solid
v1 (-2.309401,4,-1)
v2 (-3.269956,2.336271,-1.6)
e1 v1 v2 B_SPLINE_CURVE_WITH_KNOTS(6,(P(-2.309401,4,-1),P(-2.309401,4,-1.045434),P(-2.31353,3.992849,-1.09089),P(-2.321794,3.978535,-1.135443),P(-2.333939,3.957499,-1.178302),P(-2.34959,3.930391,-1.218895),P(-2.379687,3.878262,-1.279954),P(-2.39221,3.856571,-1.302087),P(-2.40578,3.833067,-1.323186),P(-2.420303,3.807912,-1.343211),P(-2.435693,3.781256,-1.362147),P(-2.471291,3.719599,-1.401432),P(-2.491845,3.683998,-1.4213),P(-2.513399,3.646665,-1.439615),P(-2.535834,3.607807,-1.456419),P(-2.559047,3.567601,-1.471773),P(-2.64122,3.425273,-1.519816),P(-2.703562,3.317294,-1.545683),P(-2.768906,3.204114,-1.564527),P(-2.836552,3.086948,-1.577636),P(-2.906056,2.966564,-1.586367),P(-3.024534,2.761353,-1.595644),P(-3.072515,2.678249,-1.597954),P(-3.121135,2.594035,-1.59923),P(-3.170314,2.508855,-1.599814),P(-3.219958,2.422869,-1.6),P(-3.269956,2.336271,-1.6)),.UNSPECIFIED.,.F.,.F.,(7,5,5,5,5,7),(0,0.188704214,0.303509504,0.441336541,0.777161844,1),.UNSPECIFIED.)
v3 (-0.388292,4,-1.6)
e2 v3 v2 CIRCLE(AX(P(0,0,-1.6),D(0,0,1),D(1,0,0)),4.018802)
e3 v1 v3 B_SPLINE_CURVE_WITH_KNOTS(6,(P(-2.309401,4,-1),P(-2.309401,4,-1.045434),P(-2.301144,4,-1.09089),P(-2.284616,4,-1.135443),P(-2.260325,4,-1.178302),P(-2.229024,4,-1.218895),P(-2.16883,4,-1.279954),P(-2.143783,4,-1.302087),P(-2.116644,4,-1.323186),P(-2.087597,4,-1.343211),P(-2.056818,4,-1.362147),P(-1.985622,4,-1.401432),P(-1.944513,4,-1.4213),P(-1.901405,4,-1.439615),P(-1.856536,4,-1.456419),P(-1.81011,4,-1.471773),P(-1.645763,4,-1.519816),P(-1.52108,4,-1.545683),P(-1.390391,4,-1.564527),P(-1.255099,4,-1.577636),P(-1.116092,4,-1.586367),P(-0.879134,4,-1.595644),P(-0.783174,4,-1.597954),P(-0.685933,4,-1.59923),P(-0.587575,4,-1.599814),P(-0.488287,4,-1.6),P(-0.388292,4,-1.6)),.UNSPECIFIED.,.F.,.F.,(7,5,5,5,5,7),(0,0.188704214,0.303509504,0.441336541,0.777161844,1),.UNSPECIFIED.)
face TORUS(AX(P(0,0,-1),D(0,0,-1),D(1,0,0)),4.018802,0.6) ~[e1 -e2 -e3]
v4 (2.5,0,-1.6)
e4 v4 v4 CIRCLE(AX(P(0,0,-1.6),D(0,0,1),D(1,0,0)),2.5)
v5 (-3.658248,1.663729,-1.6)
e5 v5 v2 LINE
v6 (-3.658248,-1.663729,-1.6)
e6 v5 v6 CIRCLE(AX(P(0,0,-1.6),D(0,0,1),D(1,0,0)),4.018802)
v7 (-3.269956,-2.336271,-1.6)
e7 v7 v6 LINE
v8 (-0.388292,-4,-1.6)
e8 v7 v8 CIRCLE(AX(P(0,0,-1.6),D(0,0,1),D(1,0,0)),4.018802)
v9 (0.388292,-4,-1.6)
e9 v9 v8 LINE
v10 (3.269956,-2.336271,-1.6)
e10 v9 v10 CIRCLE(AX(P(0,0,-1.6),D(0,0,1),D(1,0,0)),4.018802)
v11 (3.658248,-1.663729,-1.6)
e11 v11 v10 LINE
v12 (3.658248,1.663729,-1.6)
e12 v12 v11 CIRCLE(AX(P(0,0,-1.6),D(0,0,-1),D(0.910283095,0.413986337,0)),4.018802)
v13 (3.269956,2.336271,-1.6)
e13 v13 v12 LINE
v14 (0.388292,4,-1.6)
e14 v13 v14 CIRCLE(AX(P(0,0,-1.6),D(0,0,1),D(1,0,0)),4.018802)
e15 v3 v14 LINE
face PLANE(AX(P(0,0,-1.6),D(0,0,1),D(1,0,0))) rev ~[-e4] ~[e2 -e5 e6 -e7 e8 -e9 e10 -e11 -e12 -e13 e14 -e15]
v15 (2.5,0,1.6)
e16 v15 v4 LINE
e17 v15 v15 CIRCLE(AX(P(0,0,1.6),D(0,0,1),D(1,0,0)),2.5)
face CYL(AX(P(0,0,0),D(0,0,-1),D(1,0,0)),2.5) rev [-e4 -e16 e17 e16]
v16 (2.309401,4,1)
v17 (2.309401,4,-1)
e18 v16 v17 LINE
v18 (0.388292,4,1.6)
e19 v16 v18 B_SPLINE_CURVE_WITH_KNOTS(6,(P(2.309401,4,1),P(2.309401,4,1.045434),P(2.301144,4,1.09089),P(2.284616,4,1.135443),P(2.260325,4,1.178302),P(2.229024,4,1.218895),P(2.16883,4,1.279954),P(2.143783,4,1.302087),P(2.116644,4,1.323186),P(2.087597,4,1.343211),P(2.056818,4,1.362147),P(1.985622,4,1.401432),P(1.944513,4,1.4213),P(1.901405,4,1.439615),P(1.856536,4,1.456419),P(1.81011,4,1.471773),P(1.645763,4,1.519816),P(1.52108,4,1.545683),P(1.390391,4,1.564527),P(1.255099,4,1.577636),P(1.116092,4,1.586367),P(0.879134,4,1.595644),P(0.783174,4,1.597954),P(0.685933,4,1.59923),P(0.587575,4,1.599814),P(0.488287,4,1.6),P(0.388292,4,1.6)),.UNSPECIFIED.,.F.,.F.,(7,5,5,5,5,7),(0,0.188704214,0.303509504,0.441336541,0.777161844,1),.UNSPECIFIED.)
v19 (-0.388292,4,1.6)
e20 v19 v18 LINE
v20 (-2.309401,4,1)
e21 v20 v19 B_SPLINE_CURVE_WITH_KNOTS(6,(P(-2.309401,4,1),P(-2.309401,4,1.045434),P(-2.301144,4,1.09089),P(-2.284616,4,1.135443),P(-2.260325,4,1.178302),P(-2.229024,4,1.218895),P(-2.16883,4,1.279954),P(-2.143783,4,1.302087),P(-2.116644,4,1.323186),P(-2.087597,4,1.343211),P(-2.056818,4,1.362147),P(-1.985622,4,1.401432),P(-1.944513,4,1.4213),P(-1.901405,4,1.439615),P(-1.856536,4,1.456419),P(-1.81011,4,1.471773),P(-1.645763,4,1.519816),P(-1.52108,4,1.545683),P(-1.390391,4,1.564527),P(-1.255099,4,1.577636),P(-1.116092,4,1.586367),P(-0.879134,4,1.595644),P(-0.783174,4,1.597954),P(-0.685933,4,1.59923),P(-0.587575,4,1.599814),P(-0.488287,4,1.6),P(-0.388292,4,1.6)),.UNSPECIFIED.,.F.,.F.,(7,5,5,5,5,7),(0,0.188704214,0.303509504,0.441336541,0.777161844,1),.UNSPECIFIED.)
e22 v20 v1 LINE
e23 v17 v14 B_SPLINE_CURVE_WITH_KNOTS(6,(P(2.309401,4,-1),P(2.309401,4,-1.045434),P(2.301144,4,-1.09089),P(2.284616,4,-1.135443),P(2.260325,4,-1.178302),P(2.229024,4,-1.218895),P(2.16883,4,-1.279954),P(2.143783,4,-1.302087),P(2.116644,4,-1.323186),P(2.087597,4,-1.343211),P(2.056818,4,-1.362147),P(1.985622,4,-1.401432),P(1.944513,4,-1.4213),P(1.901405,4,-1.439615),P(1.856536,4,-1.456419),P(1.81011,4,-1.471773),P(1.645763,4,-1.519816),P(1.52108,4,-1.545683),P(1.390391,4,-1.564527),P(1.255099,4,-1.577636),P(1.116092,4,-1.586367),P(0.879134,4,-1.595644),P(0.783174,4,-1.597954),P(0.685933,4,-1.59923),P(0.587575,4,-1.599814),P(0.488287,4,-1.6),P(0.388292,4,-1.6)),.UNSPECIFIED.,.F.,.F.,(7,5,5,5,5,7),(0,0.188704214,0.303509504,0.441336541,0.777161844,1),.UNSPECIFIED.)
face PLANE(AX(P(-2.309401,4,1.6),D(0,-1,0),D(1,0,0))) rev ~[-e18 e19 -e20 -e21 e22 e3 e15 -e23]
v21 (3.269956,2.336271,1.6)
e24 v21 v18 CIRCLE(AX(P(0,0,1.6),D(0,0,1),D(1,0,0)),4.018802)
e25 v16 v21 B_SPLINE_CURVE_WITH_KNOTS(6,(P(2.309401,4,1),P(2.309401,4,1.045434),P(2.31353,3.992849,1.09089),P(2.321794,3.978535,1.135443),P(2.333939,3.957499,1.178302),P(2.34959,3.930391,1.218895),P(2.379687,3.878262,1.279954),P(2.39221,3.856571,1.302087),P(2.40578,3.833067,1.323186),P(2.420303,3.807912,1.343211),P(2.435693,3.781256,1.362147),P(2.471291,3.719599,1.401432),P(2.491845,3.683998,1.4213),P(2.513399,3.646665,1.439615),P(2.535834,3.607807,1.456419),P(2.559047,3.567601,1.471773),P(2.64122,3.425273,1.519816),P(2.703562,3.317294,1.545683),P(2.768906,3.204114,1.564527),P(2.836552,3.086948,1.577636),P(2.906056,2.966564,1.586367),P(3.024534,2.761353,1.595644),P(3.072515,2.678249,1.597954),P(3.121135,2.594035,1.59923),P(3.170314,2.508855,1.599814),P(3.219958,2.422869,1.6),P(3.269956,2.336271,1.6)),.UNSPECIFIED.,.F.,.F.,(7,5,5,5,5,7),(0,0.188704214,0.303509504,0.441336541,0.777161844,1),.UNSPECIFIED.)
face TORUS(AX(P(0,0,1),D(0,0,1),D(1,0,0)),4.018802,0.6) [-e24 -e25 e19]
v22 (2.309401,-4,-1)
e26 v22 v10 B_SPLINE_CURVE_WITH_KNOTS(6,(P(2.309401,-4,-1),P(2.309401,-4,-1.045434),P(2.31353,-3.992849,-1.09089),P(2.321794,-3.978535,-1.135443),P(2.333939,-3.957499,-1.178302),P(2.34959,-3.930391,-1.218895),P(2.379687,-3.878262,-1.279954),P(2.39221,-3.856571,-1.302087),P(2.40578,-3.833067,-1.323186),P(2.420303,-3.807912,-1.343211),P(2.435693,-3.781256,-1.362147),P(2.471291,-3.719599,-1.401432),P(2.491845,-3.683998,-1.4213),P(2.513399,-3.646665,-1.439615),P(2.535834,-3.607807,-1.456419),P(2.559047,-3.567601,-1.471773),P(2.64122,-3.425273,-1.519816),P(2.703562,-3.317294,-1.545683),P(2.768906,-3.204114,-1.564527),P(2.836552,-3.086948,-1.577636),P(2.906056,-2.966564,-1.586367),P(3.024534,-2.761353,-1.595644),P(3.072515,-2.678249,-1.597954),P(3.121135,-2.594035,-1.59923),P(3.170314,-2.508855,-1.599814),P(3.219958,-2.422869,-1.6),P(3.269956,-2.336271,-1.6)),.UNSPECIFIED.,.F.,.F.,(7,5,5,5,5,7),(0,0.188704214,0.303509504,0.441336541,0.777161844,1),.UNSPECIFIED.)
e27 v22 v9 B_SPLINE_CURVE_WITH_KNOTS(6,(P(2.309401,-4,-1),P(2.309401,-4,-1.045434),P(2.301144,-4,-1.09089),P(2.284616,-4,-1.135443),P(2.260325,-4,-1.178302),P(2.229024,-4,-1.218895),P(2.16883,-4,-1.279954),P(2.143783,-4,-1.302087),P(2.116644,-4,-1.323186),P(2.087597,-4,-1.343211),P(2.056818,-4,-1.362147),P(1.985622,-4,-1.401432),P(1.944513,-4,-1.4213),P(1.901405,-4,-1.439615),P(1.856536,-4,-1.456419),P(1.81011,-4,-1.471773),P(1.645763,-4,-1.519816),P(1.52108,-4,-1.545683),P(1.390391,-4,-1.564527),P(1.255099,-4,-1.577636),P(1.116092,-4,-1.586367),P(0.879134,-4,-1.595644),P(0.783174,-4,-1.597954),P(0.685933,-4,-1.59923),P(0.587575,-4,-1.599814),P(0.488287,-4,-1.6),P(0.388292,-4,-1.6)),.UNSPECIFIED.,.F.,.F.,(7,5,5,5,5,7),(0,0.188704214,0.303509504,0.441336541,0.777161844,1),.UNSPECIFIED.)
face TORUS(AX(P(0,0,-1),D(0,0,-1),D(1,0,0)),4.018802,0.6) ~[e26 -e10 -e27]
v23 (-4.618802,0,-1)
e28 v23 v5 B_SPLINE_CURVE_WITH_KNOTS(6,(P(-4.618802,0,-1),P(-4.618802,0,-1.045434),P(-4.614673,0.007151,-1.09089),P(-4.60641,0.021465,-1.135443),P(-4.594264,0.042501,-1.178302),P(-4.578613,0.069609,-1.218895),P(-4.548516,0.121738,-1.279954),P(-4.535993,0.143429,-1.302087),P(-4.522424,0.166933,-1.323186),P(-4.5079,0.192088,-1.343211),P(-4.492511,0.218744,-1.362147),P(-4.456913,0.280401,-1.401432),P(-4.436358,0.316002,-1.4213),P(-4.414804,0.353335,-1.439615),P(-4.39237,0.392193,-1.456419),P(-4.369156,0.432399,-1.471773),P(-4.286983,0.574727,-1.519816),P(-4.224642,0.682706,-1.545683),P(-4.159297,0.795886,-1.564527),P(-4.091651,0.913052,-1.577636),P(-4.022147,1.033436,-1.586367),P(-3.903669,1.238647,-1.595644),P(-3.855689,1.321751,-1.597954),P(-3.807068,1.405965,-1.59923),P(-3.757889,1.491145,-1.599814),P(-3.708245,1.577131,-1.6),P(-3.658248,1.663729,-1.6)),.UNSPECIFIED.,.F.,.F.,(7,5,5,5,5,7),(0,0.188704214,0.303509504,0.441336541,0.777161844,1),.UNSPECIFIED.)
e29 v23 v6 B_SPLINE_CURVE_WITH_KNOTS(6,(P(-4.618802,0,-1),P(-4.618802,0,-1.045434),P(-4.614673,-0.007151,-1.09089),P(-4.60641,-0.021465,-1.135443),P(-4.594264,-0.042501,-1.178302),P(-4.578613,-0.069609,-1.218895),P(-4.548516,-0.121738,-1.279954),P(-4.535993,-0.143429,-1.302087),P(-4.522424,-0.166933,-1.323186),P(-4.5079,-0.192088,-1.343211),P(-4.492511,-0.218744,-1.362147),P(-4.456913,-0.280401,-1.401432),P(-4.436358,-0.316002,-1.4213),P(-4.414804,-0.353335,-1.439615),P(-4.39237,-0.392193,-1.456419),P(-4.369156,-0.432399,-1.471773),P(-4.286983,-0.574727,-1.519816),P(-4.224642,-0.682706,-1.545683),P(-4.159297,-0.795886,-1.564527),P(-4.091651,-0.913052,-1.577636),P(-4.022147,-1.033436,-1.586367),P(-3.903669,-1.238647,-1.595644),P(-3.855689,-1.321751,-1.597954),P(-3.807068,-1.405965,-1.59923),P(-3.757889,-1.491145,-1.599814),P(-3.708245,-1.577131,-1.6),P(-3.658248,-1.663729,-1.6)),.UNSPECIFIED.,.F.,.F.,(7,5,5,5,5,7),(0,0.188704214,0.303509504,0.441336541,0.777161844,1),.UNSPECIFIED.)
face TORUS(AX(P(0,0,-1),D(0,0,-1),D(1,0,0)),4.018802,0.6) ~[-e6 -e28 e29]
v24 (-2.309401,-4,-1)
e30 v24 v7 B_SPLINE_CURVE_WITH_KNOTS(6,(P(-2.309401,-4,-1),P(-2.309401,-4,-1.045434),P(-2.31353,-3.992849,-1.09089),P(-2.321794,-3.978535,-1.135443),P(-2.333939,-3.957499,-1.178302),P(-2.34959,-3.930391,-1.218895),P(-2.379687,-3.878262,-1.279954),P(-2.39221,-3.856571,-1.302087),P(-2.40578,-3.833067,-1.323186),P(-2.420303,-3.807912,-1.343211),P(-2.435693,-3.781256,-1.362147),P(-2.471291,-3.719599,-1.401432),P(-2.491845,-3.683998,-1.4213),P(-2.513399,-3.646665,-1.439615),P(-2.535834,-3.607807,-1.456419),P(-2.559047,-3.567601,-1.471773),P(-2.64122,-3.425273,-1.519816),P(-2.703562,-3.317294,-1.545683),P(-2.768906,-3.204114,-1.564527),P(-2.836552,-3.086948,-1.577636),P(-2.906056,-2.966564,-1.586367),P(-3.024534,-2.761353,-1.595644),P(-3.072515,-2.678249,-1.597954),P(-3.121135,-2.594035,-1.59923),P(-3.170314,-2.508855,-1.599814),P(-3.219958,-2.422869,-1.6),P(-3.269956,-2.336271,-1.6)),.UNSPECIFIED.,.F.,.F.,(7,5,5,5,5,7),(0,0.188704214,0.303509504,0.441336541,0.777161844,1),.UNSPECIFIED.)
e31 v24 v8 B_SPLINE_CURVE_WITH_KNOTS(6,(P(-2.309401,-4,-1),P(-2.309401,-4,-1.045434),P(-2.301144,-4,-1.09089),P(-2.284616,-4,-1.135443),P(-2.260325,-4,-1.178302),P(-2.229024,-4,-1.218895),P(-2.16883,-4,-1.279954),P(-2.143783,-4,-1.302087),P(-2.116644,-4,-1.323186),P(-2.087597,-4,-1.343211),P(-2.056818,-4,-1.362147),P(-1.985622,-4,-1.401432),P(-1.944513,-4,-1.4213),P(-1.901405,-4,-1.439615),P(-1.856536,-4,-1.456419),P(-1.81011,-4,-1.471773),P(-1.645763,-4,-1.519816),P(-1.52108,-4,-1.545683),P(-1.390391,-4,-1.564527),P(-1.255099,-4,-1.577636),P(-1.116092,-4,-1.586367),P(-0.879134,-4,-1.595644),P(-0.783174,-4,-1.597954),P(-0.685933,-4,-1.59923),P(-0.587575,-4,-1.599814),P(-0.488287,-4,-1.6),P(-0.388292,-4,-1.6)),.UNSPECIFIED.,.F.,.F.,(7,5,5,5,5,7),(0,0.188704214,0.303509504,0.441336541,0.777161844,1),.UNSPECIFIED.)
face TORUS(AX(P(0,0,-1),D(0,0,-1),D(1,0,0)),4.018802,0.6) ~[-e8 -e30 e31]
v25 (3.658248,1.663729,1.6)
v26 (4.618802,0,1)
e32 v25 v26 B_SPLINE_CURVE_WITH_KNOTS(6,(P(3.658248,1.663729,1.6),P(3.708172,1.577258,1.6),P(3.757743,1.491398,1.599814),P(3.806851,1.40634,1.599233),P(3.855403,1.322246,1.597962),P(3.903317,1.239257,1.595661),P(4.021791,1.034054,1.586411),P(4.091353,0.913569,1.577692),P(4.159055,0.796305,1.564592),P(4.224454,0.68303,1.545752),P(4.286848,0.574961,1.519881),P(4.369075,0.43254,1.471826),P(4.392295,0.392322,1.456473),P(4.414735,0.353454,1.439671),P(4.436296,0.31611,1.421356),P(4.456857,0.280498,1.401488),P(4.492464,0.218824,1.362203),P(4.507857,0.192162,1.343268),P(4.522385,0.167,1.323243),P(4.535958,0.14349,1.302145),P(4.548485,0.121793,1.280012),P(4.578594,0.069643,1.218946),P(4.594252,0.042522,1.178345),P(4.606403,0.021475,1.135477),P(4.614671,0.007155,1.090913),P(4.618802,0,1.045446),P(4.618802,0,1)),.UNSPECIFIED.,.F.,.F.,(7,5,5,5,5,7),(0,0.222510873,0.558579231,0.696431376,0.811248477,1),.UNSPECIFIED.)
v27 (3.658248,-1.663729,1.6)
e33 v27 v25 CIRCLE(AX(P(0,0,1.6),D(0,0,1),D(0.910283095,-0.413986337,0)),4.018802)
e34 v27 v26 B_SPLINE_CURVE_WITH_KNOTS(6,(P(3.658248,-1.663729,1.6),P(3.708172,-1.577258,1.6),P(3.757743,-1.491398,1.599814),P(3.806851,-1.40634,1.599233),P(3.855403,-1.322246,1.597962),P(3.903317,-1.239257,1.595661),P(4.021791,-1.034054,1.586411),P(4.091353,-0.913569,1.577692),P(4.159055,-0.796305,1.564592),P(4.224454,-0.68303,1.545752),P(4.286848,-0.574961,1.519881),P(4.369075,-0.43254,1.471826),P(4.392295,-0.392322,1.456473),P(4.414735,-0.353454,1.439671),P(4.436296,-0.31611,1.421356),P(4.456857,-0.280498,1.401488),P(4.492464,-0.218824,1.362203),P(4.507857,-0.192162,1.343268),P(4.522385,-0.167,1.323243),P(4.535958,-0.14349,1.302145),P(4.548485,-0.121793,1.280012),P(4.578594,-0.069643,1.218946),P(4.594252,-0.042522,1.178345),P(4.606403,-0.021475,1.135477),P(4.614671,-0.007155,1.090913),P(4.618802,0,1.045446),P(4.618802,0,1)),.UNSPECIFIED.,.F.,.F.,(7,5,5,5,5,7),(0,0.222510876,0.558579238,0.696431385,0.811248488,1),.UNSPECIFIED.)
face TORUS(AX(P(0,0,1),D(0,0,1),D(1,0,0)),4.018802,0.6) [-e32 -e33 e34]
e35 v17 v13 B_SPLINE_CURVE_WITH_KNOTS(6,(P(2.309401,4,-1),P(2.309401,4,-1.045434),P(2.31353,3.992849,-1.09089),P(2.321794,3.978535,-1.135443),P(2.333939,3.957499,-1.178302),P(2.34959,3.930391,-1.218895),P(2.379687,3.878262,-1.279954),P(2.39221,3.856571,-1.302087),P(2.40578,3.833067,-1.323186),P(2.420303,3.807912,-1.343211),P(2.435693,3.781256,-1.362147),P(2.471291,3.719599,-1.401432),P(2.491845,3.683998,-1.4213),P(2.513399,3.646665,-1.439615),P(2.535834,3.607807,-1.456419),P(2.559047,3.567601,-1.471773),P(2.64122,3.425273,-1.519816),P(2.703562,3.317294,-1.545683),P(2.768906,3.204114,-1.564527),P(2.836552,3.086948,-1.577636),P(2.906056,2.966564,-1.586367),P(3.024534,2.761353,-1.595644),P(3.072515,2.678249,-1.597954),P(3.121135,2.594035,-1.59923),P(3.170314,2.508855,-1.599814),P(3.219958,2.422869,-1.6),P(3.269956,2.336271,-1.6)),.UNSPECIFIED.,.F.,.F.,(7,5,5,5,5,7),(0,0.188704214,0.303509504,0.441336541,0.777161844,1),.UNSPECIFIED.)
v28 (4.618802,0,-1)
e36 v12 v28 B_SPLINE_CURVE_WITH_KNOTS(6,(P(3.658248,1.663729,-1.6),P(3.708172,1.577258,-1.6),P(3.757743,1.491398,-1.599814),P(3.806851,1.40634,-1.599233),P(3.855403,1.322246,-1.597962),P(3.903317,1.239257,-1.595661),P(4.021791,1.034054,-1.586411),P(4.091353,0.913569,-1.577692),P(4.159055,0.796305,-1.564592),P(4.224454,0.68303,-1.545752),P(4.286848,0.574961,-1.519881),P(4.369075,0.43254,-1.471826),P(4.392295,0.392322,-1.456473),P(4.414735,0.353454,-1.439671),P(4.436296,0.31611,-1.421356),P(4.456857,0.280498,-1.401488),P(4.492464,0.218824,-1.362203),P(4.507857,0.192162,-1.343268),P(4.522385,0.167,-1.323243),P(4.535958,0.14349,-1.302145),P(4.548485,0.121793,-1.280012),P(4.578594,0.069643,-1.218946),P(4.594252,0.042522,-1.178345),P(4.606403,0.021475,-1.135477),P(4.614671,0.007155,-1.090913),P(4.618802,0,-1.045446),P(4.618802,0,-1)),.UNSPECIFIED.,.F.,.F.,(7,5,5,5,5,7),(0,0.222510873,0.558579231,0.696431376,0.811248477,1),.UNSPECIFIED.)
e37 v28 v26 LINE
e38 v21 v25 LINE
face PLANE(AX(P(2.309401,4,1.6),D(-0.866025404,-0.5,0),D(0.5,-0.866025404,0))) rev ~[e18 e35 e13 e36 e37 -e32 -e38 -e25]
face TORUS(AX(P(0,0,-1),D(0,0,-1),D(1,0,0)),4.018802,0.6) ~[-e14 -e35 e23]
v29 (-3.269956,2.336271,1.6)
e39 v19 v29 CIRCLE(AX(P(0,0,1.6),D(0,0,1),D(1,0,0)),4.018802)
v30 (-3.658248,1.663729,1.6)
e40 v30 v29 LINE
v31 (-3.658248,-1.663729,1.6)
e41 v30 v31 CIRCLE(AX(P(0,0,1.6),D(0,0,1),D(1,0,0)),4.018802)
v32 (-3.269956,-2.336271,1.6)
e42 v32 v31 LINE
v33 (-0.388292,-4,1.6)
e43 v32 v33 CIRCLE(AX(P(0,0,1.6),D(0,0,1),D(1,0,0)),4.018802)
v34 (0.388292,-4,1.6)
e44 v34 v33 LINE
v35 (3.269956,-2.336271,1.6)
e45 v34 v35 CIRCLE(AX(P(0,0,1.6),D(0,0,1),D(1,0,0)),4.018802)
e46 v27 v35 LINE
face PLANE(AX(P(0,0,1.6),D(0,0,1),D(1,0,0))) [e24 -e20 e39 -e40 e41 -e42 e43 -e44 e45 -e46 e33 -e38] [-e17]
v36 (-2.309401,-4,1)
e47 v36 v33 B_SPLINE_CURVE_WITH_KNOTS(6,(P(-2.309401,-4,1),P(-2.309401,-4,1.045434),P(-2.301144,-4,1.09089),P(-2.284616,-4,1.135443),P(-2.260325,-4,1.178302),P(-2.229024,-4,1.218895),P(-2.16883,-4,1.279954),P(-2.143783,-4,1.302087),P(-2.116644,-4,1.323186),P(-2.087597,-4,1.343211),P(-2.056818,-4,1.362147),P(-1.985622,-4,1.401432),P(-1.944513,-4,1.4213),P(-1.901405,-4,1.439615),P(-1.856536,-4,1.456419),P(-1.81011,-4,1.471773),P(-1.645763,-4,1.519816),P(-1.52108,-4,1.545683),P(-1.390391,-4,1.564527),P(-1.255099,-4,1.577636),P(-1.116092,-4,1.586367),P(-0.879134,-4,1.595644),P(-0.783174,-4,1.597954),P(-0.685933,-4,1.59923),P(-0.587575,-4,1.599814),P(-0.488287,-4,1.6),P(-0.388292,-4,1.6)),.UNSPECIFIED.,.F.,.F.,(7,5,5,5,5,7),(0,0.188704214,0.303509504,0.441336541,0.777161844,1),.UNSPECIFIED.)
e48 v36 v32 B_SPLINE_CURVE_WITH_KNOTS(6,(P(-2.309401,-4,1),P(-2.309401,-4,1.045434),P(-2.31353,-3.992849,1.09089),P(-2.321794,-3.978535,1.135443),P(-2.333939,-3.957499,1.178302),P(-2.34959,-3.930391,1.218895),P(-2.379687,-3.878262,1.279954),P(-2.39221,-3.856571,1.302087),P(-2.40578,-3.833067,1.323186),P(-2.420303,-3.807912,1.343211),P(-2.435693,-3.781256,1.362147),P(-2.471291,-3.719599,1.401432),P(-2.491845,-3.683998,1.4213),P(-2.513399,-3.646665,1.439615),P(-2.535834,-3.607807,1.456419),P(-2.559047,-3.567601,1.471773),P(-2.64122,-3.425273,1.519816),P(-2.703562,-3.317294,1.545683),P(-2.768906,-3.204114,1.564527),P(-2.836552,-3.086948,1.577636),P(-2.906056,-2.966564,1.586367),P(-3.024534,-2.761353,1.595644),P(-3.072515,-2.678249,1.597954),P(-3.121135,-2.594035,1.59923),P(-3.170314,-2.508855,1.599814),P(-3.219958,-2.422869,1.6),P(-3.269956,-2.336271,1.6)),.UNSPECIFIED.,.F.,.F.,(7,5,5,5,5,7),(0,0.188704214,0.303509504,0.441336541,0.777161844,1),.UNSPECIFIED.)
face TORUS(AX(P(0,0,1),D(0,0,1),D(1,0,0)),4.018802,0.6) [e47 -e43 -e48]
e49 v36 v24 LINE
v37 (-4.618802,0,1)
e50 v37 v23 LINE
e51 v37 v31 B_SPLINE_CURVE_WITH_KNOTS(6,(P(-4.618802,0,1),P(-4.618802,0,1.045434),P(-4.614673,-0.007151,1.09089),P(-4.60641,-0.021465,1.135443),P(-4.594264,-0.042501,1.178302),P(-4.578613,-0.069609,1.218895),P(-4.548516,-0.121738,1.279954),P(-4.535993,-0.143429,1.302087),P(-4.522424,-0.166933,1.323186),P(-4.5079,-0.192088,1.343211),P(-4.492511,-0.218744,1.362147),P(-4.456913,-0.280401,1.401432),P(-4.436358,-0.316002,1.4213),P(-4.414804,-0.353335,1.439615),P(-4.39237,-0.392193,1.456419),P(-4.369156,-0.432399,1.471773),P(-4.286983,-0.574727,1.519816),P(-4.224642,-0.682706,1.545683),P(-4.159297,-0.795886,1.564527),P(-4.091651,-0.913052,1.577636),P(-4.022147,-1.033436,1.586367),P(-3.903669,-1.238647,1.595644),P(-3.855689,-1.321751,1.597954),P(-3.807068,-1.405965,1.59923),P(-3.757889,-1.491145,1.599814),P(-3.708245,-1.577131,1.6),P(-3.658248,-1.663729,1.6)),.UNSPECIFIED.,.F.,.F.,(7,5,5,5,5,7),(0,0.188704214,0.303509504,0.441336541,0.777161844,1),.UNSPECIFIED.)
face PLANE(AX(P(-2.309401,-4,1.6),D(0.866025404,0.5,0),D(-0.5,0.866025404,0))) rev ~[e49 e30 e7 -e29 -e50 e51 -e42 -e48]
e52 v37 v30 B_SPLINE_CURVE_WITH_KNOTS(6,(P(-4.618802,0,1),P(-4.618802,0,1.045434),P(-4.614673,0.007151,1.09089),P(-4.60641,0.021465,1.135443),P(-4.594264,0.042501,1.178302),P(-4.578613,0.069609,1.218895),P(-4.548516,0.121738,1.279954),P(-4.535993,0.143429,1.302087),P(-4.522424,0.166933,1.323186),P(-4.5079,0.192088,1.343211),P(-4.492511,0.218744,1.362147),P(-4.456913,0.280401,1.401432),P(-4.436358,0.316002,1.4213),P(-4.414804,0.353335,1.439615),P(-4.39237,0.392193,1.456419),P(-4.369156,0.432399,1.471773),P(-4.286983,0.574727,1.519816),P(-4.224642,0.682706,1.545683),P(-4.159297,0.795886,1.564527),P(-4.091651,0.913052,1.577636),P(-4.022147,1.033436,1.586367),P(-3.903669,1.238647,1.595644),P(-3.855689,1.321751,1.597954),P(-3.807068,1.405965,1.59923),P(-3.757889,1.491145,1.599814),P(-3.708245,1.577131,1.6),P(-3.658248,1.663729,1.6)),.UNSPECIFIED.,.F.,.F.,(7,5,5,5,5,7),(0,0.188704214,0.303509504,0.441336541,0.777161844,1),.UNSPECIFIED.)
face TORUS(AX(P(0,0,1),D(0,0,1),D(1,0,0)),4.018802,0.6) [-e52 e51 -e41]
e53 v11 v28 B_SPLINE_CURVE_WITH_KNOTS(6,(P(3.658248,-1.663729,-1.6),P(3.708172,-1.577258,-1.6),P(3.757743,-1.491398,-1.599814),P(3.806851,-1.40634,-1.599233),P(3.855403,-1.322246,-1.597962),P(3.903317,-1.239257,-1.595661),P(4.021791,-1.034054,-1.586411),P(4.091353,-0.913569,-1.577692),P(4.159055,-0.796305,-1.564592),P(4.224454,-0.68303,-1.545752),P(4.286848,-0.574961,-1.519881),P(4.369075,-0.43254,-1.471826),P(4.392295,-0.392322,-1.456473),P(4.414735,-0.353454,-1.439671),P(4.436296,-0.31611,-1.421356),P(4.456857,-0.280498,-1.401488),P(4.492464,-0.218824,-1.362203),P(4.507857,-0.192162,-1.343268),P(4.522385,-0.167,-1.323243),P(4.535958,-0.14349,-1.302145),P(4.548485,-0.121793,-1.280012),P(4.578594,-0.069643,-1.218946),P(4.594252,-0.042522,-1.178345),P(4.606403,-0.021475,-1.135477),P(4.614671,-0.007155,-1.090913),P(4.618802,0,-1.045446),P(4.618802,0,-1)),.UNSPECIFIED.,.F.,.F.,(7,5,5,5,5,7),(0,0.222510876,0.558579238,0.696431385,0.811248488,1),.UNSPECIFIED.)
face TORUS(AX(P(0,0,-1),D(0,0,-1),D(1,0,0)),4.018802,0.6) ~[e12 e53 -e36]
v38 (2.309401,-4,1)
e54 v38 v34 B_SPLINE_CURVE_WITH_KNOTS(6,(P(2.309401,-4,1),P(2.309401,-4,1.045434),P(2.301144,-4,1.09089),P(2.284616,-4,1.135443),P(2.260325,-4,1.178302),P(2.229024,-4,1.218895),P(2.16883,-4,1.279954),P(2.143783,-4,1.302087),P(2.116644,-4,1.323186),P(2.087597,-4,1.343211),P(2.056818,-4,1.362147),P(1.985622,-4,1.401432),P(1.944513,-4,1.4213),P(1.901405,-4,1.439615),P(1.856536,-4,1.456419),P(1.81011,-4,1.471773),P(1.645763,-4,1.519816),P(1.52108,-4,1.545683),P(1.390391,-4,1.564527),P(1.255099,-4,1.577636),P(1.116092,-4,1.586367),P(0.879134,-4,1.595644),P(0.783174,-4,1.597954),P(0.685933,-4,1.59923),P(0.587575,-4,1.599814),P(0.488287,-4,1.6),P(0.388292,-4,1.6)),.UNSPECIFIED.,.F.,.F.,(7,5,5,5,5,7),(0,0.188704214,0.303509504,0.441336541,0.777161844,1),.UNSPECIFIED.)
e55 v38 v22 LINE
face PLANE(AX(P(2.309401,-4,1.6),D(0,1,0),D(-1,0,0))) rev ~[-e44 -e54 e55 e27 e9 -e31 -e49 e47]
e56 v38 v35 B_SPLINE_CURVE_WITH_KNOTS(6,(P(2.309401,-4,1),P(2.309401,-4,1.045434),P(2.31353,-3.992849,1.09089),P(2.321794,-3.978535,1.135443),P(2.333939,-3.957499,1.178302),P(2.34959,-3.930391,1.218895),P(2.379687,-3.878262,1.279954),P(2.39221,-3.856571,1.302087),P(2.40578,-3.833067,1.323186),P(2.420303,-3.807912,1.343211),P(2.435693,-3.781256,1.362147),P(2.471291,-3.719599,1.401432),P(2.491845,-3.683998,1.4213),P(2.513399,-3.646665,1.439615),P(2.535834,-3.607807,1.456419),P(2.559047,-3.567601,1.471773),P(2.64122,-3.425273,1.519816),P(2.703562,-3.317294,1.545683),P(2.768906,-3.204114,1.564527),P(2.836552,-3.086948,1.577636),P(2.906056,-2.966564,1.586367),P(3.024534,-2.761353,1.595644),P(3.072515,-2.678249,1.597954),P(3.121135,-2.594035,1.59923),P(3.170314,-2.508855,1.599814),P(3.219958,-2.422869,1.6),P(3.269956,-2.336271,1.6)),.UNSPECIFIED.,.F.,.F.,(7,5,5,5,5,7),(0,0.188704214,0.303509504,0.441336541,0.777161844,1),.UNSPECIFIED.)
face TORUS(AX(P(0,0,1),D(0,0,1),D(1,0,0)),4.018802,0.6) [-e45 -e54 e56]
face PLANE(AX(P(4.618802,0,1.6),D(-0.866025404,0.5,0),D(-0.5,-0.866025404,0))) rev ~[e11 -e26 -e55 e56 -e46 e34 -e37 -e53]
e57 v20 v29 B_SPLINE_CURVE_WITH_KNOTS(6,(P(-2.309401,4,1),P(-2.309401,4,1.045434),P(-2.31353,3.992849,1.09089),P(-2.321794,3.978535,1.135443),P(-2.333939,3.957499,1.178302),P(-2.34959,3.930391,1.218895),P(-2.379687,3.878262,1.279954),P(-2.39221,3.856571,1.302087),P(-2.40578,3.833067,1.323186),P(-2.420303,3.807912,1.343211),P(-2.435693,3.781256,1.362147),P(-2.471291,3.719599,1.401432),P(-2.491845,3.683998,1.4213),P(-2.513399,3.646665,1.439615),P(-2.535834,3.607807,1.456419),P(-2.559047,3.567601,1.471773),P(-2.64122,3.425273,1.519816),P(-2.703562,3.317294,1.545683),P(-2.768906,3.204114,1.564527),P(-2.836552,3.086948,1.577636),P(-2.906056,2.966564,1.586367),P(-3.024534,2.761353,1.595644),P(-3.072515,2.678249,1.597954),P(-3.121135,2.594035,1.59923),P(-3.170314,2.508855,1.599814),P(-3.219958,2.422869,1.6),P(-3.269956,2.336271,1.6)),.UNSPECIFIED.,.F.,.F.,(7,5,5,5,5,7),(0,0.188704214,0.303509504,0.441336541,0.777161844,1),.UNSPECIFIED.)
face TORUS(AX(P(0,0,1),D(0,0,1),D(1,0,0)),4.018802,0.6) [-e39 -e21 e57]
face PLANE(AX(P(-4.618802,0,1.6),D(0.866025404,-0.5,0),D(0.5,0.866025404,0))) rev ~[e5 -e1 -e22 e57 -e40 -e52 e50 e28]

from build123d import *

# Parameters (mm, degrees)
F0_R     = 4.6188021535
F0_R_2   = 2.5
F1_DEPTH = 1.6
F2_R     = 0.6
F3_R     = 7.5
F4_DEPTH = 3.2010001


with BuildPart() as f1:
    # F0 (on Top) → F1 (new body, symmetric)
    with BuildSketch(Plane.XY):
        Circle(F0_R)
        Circle(F0_R_2, mode=Mode.SUBTRACT)
    extrude(amount=F1_DEPTH, both=True)

    # F2
    f2_edges = [f1.edges().sort_by_distance(p)[0] for p in [
        (-4.618802, 0, 1.6),
        (-4.618802, 0, -1.6),
    ]]
    fillet(f2_edges, radius=F2_R)

    # F3 (on face) → F4 (cut, through all)
    with BuildSketch(Plane.XY.offset(1.6)):
        Circle(F3_R)
        Polygon((-2.3094010768, -4), (-4.6188021535, 0), (-2.3094010768, 4), (2.3094010768, 4), (4.6188021535, 0), (2.3094010768, -4), align=None, mode=Mode.SUBTRACT)
    extrude(amount=-F4_DEPTH, mode=Mode.SUBTRACT)


solid = f1.part
